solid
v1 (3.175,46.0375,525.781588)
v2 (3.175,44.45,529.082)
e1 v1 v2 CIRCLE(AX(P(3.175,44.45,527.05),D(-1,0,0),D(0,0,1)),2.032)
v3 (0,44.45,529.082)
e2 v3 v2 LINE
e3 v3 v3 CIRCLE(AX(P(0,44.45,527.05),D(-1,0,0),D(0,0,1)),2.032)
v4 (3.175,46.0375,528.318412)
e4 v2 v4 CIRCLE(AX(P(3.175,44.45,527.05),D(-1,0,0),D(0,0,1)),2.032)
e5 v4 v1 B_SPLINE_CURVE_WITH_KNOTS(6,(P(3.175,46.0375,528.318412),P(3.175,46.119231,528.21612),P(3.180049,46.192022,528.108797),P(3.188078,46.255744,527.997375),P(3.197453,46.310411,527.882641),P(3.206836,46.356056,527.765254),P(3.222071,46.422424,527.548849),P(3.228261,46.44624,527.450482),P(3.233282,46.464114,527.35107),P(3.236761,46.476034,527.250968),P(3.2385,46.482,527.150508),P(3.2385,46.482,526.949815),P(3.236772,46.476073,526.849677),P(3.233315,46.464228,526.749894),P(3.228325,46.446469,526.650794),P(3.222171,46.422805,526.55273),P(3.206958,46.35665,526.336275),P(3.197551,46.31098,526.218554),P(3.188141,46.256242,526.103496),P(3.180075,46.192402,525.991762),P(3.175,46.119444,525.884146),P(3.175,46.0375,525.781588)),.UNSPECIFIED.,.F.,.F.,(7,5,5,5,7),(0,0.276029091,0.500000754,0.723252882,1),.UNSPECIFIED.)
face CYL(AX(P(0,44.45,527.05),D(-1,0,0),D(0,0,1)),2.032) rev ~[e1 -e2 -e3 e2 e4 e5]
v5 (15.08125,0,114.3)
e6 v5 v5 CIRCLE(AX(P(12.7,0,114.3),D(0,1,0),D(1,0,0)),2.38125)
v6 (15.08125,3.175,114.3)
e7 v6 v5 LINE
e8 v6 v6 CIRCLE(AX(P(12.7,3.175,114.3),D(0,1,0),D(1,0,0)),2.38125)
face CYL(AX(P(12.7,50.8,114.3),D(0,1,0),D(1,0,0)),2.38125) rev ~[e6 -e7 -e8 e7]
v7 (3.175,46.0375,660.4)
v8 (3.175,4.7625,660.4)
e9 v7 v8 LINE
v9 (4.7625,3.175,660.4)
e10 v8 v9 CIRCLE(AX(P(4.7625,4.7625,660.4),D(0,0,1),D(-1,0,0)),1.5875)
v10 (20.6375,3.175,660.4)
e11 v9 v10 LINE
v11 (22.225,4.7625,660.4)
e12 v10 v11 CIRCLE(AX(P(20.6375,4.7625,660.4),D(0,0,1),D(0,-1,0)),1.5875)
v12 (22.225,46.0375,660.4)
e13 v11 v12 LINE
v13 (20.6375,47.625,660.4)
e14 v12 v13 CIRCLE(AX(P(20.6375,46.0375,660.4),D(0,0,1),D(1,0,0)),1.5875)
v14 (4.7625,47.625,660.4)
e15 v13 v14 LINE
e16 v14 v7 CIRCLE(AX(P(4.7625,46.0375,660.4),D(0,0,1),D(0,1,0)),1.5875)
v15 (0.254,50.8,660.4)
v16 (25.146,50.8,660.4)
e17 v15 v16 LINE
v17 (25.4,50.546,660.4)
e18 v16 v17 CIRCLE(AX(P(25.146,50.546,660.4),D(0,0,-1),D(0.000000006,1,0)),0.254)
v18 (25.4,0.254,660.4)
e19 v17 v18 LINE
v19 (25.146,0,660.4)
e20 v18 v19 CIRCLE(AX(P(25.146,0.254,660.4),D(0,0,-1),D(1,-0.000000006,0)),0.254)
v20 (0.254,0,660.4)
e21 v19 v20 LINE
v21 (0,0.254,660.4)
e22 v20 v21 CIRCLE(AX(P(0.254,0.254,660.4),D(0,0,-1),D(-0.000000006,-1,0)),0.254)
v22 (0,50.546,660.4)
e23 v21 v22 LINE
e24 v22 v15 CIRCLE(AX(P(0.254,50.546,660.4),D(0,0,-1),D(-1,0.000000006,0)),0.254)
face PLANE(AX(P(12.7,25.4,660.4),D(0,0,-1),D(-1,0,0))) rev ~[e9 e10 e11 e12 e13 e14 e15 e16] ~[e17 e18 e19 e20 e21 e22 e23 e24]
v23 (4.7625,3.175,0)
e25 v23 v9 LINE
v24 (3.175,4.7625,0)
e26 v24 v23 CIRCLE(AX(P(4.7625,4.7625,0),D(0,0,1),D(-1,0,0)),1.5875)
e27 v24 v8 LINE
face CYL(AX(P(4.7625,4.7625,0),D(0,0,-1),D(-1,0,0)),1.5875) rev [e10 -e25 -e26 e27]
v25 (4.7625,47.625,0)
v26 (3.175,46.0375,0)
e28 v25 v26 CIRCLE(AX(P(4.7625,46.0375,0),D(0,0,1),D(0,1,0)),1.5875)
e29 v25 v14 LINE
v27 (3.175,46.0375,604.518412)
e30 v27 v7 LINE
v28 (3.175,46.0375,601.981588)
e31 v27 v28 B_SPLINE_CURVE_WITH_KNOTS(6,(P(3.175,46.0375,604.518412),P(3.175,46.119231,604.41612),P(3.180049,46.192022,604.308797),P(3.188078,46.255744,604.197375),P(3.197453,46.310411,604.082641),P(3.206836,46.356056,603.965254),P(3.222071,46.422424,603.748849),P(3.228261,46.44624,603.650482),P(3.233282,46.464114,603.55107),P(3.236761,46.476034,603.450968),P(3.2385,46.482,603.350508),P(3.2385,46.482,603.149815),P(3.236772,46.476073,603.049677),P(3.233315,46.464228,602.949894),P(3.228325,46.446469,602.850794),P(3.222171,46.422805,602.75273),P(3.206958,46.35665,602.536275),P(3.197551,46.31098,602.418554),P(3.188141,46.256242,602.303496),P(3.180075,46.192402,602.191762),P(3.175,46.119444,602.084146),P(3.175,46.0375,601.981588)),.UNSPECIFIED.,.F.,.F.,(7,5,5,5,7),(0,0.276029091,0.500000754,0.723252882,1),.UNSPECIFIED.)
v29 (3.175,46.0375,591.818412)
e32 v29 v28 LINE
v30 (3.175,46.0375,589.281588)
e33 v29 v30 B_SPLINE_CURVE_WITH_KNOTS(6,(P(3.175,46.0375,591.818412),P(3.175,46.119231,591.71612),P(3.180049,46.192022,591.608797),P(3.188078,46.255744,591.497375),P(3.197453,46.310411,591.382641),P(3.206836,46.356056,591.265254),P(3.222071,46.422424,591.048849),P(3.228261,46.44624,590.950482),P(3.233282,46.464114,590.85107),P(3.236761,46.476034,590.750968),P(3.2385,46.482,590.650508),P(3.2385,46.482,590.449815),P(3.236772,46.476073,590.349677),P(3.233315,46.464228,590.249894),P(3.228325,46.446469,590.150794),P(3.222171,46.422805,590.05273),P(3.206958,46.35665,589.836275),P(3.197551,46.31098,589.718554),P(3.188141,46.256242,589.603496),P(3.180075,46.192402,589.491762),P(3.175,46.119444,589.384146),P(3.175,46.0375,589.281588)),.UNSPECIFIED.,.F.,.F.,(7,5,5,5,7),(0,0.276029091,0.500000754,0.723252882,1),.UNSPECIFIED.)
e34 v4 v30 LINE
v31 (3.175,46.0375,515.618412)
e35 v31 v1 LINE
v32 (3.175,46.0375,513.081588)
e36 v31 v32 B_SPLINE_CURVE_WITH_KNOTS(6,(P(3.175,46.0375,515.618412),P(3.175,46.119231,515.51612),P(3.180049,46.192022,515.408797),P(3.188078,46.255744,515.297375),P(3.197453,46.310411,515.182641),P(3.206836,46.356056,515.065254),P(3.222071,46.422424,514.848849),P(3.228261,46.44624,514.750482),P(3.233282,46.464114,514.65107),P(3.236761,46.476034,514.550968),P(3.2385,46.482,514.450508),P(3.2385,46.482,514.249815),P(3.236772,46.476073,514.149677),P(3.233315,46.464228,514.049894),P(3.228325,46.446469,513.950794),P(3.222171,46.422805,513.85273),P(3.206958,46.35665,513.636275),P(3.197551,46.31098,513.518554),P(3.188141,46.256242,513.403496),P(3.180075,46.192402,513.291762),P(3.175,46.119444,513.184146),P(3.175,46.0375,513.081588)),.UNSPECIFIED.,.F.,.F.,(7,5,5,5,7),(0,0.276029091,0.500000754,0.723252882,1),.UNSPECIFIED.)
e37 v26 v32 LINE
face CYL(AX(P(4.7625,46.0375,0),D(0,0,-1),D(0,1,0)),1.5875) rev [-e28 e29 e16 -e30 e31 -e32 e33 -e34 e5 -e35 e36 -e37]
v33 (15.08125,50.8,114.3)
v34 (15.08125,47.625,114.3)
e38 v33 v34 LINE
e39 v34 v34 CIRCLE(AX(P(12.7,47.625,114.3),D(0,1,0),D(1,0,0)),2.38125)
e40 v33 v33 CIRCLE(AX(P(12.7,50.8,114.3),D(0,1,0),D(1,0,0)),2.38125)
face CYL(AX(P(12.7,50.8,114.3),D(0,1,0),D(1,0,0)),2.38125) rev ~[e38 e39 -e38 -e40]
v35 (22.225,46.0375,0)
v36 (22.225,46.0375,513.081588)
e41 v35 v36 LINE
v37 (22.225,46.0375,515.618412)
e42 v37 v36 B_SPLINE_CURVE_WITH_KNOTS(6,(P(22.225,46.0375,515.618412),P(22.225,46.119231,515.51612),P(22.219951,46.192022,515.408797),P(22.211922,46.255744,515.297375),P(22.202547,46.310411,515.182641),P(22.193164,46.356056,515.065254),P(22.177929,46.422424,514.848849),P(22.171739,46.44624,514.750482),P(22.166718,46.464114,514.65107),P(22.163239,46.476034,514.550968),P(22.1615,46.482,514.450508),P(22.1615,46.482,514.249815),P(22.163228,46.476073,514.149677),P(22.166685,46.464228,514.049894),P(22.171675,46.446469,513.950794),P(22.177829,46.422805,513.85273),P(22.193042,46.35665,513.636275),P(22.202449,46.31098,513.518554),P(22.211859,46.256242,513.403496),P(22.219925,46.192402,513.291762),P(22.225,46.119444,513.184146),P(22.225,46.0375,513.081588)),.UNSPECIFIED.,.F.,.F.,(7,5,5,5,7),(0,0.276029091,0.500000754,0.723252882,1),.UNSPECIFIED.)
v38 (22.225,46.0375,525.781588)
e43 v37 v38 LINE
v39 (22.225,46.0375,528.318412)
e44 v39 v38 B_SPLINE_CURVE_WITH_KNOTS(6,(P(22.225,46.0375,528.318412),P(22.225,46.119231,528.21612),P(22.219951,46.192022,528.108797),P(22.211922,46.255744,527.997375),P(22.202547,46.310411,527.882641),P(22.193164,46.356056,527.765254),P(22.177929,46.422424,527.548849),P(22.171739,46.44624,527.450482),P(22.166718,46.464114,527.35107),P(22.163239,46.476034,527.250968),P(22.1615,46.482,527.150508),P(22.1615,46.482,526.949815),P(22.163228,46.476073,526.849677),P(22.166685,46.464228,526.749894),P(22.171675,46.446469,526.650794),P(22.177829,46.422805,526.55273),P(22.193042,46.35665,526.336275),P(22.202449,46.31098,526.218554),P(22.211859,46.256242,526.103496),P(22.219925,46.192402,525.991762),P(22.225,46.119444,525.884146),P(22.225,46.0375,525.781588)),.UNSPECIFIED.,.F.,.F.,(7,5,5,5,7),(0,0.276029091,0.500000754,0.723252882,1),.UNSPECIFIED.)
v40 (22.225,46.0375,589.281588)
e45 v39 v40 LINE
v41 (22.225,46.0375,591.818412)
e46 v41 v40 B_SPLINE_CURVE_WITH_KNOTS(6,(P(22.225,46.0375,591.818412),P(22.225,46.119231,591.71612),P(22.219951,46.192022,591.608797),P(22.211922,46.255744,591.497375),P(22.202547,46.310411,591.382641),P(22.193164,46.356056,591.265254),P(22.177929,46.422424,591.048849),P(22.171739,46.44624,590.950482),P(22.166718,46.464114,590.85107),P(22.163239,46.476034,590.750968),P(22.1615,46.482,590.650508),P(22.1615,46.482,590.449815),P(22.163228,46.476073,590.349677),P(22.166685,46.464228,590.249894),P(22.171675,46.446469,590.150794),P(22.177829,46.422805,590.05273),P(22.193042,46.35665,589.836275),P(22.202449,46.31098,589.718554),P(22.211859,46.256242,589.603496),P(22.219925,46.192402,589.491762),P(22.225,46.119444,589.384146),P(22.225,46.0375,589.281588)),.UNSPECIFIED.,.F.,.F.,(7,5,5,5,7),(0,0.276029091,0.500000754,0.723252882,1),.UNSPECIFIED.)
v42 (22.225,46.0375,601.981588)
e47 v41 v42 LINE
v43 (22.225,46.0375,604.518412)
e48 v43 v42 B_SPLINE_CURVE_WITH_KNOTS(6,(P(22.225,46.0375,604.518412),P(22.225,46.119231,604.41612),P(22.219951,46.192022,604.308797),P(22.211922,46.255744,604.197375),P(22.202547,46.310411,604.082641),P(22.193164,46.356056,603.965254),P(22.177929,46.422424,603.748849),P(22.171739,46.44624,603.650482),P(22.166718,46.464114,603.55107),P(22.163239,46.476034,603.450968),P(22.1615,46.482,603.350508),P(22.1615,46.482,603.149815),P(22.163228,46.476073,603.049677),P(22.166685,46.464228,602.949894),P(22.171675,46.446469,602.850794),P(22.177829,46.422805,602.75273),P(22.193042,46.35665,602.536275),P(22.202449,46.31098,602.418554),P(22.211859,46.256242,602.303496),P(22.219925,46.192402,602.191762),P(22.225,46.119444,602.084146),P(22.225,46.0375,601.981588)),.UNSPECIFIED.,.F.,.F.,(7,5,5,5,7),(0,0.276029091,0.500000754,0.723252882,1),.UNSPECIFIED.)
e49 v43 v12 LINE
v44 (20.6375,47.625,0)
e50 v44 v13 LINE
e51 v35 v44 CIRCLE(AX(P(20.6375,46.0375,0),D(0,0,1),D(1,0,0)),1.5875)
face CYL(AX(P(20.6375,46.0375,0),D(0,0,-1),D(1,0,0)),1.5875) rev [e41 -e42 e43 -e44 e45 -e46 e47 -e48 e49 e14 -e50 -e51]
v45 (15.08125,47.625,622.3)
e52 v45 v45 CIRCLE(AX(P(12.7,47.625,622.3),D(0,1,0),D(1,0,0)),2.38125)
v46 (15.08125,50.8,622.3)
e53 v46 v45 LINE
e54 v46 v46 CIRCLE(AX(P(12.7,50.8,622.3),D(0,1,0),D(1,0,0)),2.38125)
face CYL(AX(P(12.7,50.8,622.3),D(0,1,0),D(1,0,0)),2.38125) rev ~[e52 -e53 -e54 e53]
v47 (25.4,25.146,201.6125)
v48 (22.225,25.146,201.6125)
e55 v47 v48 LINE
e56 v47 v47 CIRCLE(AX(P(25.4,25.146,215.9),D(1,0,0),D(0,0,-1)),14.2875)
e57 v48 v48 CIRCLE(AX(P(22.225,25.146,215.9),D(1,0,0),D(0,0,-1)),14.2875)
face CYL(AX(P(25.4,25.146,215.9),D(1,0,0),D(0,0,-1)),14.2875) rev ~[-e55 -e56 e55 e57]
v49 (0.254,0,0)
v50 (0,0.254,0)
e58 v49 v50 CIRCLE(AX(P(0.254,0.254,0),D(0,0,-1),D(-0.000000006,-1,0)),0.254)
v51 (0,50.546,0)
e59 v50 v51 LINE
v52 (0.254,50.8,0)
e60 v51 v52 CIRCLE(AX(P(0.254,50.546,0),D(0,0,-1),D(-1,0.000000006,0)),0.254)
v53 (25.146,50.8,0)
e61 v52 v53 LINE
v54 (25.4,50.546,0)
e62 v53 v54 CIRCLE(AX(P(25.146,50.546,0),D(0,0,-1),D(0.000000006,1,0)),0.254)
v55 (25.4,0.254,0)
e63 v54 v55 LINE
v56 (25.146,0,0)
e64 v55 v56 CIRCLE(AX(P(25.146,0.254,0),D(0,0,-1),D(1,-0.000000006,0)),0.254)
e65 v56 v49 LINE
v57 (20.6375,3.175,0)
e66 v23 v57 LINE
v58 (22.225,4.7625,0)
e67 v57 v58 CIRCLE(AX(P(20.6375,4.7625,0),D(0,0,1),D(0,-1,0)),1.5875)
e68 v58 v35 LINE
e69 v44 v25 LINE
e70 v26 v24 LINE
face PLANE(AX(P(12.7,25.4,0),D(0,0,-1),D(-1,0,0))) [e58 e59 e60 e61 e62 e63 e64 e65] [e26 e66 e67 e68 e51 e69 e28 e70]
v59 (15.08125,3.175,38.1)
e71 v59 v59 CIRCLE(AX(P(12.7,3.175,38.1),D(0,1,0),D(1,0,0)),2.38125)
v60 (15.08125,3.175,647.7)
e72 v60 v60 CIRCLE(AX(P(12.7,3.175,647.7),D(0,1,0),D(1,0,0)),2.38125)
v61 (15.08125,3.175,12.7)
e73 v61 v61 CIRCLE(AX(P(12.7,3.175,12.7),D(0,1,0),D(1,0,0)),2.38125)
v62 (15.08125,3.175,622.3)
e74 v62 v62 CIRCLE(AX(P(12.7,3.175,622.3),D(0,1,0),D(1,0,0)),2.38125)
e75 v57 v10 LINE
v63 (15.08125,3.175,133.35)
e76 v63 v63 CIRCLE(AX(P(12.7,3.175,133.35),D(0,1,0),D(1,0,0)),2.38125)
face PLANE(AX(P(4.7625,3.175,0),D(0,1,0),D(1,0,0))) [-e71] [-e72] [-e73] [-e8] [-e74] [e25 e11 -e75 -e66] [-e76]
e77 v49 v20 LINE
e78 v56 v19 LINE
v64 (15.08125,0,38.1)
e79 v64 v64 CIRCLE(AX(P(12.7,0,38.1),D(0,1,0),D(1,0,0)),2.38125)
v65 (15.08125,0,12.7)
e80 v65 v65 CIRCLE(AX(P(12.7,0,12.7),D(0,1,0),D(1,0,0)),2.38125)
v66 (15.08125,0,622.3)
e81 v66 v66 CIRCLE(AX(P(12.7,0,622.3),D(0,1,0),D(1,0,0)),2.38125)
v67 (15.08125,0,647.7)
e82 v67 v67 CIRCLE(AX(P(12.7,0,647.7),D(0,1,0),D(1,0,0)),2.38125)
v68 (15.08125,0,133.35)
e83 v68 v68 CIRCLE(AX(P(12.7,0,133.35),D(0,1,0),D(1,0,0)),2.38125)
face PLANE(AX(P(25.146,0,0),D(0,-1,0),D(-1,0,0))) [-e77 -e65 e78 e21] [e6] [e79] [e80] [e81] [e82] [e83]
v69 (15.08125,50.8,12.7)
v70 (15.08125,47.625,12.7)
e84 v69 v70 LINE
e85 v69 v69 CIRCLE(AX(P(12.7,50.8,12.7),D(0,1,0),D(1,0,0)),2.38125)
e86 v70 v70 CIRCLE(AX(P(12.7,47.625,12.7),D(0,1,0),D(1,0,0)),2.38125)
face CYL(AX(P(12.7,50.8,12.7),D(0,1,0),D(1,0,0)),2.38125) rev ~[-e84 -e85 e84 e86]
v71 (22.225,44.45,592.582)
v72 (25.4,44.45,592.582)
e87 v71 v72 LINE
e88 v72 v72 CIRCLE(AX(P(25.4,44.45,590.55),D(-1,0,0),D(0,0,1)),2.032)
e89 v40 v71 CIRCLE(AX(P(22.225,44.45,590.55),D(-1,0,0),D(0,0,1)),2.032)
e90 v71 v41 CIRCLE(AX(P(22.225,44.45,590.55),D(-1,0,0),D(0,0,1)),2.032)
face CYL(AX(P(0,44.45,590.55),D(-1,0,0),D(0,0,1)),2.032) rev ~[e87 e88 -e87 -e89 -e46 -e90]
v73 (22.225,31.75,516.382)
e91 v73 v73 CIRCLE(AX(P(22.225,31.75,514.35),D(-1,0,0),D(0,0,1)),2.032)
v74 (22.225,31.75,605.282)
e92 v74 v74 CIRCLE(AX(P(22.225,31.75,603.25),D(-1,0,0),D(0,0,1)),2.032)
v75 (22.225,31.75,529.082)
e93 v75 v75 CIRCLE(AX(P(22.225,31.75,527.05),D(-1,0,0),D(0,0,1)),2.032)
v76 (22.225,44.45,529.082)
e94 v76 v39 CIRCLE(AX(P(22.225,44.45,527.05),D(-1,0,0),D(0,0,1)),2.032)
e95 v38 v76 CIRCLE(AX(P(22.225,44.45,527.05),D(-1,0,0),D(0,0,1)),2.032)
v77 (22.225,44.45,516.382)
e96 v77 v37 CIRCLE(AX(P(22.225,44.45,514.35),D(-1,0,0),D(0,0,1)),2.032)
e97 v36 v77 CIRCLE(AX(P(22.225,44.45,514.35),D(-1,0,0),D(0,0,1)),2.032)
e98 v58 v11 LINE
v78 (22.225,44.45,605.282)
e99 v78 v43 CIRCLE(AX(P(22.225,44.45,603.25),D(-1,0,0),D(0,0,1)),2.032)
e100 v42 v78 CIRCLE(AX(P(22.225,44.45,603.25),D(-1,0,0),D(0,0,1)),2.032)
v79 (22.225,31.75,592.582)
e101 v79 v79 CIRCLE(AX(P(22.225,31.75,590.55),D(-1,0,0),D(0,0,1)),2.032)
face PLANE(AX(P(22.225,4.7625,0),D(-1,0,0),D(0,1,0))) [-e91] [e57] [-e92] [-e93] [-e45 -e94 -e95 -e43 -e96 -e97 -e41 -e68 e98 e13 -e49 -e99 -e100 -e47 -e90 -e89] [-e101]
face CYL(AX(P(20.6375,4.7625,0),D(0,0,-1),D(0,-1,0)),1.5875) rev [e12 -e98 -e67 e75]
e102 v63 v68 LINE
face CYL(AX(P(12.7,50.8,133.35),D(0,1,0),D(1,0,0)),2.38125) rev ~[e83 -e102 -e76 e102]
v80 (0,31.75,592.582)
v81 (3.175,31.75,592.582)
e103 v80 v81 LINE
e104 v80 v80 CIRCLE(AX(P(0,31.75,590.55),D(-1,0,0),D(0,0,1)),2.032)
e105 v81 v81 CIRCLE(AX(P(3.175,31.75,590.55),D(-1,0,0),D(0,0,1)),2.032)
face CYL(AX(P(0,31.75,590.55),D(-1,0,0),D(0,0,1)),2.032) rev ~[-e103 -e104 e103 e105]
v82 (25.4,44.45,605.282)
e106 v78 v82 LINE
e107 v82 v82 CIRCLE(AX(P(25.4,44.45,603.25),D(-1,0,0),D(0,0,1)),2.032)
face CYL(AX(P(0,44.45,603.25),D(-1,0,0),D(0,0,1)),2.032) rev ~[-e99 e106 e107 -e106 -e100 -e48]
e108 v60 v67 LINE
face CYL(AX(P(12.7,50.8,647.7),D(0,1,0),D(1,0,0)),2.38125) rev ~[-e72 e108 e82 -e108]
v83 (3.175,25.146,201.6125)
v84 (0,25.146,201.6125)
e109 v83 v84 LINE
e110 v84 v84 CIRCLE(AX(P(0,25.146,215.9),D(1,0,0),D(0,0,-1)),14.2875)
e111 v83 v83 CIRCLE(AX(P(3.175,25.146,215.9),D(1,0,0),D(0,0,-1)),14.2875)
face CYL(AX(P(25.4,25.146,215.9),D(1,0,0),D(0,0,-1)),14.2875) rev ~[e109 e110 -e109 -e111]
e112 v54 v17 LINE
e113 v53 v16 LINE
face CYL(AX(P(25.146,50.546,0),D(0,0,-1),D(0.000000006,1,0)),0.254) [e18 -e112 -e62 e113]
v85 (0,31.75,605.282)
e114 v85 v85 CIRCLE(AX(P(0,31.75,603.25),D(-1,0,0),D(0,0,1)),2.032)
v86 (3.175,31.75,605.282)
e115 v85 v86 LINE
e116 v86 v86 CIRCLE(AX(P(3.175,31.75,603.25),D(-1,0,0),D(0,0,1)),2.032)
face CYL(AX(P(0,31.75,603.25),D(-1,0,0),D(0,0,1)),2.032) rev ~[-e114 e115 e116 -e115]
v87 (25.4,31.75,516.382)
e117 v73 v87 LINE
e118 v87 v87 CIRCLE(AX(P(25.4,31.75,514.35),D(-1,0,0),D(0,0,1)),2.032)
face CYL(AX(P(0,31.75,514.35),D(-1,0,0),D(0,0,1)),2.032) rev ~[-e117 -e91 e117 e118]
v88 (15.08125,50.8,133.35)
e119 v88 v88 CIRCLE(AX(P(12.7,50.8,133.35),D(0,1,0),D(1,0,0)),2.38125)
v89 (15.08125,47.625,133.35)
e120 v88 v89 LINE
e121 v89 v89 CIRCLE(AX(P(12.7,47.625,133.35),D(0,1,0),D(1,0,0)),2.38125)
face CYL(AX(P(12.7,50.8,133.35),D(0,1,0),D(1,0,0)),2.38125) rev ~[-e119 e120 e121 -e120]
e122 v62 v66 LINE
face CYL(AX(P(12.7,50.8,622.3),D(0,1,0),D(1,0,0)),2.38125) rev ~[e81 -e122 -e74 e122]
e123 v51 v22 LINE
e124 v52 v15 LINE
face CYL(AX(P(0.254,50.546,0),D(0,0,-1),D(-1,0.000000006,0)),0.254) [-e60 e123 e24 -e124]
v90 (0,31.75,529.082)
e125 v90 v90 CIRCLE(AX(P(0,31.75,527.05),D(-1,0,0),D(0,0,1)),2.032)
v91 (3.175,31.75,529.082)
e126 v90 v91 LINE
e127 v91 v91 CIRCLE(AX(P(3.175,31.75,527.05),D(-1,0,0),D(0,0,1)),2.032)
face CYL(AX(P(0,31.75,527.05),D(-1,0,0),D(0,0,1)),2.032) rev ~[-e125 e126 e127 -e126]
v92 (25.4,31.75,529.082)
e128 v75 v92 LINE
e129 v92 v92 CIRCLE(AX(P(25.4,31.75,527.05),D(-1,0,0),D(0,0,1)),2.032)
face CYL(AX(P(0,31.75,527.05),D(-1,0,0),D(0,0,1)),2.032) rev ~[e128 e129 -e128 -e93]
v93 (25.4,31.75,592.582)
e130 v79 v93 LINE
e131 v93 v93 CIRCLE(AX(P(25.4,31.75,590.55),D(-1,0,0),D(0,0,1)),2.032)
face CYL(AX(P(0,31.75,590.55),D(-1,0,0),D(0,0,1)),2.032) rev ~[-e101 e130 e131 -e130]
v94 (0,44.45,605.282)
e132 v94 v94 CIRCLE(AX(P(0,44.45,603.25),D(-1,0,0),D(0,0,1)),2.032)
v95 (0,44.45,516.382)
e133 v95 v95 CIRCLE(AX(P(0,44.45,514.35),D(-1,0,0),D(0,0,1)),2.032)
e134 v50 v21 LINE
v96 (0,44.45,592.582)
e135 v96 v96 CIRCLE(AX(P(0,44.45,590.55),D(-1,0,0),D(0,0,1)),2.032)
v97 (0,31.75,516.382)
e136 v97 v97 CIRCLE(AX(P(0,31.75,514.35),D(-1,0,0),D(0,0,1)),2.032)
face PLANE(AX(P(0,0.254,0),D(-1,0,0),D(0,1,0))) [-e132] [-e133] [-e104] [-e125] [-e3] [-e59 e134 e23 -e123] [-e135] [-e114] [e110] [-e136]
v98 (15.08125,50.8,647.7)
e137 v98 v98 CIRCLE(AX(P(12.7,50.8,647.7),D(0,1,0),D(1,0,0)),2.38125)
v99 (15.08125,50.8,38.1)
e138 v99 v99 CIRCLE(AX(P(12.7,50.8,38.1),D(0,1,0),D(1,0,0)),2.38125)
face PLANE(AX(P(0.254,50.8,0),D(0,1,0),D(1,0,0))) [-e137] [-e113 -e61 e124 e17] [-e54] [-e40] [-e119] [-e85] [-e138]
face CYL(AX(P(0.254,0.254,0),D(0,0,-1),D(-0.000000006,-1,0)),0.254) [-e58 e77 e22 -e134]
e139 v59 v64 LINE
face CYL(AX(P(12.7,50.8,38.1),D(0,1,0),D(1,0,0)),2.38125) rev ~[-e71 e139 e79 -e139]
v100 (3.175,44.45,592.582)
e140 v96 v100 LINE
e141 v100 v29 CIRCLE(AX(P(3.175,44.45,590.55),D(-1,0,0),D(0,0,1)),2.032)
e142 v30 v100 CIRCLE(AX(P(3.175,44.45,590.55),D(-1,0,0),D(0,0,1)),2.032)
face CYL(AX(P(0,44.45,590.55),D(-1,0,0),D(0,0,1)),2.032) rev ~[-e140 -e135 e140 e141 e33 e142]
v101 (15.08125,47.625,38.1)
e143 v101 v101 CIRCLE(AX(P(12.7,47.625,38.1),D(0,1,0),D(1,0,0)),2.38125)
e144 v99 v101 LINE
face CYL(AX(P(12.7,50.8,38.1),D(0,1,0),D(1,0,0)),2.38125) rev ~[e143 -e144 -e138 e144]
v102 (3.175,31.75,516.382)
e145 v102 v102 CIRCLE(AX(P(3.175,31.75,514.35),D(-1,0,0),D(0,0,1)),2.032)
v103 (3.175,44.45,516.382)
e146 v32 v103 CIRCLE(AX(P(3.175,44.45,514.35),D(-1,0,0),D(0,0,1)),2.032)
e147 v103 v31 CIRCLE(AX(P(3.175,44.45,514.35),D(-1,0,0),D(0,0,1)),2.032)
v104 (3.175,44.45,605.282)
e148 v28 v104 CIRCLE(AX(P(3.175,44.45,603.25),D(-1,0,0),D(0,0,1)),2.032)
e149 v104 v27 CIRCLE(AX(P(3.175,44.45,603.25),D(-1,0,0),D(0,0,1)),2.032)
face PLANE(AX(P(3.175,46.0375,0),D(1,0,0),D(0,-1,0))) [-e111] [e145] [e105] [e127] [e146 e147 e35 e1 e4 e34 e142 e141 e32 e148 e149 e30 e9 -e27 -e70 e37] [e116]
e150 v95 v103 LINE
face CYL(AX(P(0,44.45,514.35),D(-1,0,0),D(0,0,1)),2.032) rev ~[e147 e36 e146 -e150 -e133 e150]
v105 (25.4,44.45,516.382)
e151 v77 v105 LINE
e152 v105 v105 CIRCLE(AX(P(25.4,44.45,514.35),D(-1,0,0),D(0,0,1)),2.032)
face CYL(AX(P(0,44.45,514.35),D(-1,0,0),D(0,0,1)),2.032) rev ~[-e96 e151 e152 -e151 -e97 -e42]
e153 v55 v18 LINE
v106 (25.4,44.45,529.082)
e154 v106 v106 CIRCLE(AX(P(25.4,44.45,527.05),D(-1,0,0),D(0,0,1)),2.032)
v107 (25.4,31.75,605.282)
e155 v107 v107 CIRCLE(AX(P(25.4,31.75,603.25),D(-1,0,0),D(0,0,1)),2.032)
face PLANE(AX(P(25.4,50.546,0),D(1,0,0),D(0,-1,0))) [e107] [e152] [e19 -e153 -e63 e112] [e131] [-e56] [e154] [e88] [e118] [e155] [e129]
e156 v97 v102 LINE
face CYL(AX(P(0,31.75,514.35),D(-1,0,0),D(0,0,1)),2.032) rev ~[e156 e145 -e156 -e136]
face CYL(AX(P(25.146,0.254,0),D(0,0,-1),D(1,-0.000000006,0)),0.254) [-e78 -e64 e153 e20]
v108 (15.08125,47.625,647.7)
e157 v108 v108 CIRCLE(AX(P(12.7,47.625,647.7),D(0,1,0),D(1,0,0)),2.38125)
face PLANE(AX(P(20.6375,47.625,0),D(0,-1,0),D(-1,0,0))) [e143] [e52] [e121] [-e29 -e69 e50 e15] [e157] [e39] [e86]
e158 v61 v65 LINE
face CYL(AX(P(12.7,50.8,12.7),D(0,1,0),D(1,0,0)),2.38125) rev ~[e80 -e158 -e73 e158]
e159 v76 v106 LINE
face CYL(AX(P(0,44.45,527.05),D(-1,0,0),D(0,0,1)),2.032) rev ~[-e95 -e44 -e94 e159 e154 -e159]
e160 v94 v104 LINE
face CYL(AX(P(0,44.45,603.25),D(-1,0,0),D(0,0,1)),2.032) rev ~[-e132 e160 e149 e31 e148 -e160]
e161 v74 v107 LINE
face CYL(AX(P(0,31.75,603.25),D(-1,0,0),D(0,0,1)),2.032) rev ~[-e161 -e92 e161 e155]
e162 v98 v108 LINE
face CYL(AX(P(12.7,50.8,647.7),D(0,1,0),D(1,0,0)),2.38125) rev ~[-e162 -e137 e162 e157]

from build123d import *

# Parameters (mm, degrees)
BOSS_EXTRUDE1_DEPTH     = 660.4
SKETCH2_R               = 2.38125
CUT_EXTRUDE1_DEPTH      = 51.8
SKETCH5_R               = 14.2875
CUT_EXTRUDE2_DEPTH      = 26.4
SKETCH7_R               = 2.032
CUT_EXTRUDE3_DEPTH      = 1
CUT_EXTRUDE3_DEPTH_BACK = 26.4


with BuildPart() as part:
    # Sketch1 → Boss-Extrude1 (new body)
    with BuildSketch(Plane(origin=(0, 0, 0), x_dir=(-1, 0, 0), z_dir=(0, 0, -1))):
        with BuildLine():
            Line((0, 0.254), (0, 50.546))
            ThreePointArc((0, 50.546), (-0.074394878, 50.725605122), (-0.254, 50.8))
            Line((-0.254, 50.8), (-25.146, 50.8))
            ThreePointArc((-25.146, 50.8), (-25.325605122, 50.725605122), (-25.4, 50.546))
            Line((-25.4, 50.546), (-25.4, 0.254))
            ThreePointArc((-25.4, 0.254), (-25.325605122, 0.074394878), (-25.146, 0))
            Line((-25.146, 0), (-0.254, 0))
            ThreePointArc((-0.254, 0), (-0.074394878, 0.074394878), (0, 0.254))
        make_face()
        with BuildLine():
            Line((-3.175, 46.0375), (-3.175, 4.7625))
            ThreePointArc((-3.175, 4.7625), (-3.639967985, 3.639967985), (-4.7625, 3.175))
            Line((-4.7625, 3.175), (-20.6375, 3.175))
            ThreePointArc((-20.6375, 3.175), (-21.760032015, 3.639967985), (-22.225, 4.7625))
            Line((-22.225, 4.7625), (-22.225, 46.0375))
            ThreePointArc((-22.225, 46.0375), (-21.760032015, 47.160032015), (-20.6375, 47.625))
            Line((-20.6375, 47.625), (-4.7625, 47.625))
            ThreePointArc((-4.7625, 47.625), (-3.639967985, 47.160032015), (-3.175, 46.0375))
        make_face(mode=Mode.SUBTRACT)
    extrude(amount=-BOSS_EXTRUDE1_DEPTH)

    # Sketch2 → Cut-Extrude1 (cut, through all)
    with BuildSketch(Plane(origin=(0, 50.8, 0), x_dir=(1, 0, 0), z_dir=(0, 1, 0))):
        with Locations((12.7, -647.7)):
            Circle(SKETCH2_R)
        with Locations((12.7, -622.3)):
            Circle(SKETCH2_R)
        with Locations((12.7, -38.1)):
            Circle(SKETCH2_R)
        with Locations((12.7, -12.7)):
            Circle(SKETCH2_R)
        with Locations((12.7, -133.35)):
            Circle(SKETCH2_R)
        with Locations((12.7, -114.3)):
            Circle(SKETCH2_R)
    extrude(amount=-CUT_EXTRUDE1_DEPTH, mode=Mode.SUBTRACT)

    # Sketch5 → Cut-Extrude2 (cut, through all)
    with BuildSketch(Plane(origin=(25.4, 0, 0), x_dir=(0, 0, -1), z_dir=(1, 0, 0))):
        with Locations((-215.9, 25.146)):
            Circle(SKETCH5_R)
    extrude(amount=-CUT_EXTRUDE2_DEPTH, mode=Mode.SUBTRACT)

    # Sketch7 → Cut-Extrude3 (cut, two sides)
    with BuildSketch(Plane.ZY) as cut_extrude3_sk:
        with Locations((514.35, 44.45)):
            Circle(SKETCH7_R)
        with Locations((514.35, 31.75)):
            Circle(SKETCH7_R)
        with Locations((527.05, 31.75)):
            Circle(SKETCH7_R)
        with Locations((527.05, 44.45)):
            Circle(SKETCH7_R)
        with Locations((590.55, 44.45)):
            Circle(SKETCH7_R)
        with Locations((603.25, 44.45)):
            Circle(SKETCH7_R)
        with Locations((603.25, 31.75)):
            Circle(SKETCH7_R)
        with Locations((590.55, 31.75)):
            Circle(SKETCH7_R)
    extrude(amount=CUT_EXTRUDE3_DEPTH, mode=Mode.SUBTRACT)
    extrude(cut_extrude3_sk.sketch, amount=-CUT_EXTRUDE3_DEPTH_BACK, mode=Mode.SUBTRACT)


solid = part.part
